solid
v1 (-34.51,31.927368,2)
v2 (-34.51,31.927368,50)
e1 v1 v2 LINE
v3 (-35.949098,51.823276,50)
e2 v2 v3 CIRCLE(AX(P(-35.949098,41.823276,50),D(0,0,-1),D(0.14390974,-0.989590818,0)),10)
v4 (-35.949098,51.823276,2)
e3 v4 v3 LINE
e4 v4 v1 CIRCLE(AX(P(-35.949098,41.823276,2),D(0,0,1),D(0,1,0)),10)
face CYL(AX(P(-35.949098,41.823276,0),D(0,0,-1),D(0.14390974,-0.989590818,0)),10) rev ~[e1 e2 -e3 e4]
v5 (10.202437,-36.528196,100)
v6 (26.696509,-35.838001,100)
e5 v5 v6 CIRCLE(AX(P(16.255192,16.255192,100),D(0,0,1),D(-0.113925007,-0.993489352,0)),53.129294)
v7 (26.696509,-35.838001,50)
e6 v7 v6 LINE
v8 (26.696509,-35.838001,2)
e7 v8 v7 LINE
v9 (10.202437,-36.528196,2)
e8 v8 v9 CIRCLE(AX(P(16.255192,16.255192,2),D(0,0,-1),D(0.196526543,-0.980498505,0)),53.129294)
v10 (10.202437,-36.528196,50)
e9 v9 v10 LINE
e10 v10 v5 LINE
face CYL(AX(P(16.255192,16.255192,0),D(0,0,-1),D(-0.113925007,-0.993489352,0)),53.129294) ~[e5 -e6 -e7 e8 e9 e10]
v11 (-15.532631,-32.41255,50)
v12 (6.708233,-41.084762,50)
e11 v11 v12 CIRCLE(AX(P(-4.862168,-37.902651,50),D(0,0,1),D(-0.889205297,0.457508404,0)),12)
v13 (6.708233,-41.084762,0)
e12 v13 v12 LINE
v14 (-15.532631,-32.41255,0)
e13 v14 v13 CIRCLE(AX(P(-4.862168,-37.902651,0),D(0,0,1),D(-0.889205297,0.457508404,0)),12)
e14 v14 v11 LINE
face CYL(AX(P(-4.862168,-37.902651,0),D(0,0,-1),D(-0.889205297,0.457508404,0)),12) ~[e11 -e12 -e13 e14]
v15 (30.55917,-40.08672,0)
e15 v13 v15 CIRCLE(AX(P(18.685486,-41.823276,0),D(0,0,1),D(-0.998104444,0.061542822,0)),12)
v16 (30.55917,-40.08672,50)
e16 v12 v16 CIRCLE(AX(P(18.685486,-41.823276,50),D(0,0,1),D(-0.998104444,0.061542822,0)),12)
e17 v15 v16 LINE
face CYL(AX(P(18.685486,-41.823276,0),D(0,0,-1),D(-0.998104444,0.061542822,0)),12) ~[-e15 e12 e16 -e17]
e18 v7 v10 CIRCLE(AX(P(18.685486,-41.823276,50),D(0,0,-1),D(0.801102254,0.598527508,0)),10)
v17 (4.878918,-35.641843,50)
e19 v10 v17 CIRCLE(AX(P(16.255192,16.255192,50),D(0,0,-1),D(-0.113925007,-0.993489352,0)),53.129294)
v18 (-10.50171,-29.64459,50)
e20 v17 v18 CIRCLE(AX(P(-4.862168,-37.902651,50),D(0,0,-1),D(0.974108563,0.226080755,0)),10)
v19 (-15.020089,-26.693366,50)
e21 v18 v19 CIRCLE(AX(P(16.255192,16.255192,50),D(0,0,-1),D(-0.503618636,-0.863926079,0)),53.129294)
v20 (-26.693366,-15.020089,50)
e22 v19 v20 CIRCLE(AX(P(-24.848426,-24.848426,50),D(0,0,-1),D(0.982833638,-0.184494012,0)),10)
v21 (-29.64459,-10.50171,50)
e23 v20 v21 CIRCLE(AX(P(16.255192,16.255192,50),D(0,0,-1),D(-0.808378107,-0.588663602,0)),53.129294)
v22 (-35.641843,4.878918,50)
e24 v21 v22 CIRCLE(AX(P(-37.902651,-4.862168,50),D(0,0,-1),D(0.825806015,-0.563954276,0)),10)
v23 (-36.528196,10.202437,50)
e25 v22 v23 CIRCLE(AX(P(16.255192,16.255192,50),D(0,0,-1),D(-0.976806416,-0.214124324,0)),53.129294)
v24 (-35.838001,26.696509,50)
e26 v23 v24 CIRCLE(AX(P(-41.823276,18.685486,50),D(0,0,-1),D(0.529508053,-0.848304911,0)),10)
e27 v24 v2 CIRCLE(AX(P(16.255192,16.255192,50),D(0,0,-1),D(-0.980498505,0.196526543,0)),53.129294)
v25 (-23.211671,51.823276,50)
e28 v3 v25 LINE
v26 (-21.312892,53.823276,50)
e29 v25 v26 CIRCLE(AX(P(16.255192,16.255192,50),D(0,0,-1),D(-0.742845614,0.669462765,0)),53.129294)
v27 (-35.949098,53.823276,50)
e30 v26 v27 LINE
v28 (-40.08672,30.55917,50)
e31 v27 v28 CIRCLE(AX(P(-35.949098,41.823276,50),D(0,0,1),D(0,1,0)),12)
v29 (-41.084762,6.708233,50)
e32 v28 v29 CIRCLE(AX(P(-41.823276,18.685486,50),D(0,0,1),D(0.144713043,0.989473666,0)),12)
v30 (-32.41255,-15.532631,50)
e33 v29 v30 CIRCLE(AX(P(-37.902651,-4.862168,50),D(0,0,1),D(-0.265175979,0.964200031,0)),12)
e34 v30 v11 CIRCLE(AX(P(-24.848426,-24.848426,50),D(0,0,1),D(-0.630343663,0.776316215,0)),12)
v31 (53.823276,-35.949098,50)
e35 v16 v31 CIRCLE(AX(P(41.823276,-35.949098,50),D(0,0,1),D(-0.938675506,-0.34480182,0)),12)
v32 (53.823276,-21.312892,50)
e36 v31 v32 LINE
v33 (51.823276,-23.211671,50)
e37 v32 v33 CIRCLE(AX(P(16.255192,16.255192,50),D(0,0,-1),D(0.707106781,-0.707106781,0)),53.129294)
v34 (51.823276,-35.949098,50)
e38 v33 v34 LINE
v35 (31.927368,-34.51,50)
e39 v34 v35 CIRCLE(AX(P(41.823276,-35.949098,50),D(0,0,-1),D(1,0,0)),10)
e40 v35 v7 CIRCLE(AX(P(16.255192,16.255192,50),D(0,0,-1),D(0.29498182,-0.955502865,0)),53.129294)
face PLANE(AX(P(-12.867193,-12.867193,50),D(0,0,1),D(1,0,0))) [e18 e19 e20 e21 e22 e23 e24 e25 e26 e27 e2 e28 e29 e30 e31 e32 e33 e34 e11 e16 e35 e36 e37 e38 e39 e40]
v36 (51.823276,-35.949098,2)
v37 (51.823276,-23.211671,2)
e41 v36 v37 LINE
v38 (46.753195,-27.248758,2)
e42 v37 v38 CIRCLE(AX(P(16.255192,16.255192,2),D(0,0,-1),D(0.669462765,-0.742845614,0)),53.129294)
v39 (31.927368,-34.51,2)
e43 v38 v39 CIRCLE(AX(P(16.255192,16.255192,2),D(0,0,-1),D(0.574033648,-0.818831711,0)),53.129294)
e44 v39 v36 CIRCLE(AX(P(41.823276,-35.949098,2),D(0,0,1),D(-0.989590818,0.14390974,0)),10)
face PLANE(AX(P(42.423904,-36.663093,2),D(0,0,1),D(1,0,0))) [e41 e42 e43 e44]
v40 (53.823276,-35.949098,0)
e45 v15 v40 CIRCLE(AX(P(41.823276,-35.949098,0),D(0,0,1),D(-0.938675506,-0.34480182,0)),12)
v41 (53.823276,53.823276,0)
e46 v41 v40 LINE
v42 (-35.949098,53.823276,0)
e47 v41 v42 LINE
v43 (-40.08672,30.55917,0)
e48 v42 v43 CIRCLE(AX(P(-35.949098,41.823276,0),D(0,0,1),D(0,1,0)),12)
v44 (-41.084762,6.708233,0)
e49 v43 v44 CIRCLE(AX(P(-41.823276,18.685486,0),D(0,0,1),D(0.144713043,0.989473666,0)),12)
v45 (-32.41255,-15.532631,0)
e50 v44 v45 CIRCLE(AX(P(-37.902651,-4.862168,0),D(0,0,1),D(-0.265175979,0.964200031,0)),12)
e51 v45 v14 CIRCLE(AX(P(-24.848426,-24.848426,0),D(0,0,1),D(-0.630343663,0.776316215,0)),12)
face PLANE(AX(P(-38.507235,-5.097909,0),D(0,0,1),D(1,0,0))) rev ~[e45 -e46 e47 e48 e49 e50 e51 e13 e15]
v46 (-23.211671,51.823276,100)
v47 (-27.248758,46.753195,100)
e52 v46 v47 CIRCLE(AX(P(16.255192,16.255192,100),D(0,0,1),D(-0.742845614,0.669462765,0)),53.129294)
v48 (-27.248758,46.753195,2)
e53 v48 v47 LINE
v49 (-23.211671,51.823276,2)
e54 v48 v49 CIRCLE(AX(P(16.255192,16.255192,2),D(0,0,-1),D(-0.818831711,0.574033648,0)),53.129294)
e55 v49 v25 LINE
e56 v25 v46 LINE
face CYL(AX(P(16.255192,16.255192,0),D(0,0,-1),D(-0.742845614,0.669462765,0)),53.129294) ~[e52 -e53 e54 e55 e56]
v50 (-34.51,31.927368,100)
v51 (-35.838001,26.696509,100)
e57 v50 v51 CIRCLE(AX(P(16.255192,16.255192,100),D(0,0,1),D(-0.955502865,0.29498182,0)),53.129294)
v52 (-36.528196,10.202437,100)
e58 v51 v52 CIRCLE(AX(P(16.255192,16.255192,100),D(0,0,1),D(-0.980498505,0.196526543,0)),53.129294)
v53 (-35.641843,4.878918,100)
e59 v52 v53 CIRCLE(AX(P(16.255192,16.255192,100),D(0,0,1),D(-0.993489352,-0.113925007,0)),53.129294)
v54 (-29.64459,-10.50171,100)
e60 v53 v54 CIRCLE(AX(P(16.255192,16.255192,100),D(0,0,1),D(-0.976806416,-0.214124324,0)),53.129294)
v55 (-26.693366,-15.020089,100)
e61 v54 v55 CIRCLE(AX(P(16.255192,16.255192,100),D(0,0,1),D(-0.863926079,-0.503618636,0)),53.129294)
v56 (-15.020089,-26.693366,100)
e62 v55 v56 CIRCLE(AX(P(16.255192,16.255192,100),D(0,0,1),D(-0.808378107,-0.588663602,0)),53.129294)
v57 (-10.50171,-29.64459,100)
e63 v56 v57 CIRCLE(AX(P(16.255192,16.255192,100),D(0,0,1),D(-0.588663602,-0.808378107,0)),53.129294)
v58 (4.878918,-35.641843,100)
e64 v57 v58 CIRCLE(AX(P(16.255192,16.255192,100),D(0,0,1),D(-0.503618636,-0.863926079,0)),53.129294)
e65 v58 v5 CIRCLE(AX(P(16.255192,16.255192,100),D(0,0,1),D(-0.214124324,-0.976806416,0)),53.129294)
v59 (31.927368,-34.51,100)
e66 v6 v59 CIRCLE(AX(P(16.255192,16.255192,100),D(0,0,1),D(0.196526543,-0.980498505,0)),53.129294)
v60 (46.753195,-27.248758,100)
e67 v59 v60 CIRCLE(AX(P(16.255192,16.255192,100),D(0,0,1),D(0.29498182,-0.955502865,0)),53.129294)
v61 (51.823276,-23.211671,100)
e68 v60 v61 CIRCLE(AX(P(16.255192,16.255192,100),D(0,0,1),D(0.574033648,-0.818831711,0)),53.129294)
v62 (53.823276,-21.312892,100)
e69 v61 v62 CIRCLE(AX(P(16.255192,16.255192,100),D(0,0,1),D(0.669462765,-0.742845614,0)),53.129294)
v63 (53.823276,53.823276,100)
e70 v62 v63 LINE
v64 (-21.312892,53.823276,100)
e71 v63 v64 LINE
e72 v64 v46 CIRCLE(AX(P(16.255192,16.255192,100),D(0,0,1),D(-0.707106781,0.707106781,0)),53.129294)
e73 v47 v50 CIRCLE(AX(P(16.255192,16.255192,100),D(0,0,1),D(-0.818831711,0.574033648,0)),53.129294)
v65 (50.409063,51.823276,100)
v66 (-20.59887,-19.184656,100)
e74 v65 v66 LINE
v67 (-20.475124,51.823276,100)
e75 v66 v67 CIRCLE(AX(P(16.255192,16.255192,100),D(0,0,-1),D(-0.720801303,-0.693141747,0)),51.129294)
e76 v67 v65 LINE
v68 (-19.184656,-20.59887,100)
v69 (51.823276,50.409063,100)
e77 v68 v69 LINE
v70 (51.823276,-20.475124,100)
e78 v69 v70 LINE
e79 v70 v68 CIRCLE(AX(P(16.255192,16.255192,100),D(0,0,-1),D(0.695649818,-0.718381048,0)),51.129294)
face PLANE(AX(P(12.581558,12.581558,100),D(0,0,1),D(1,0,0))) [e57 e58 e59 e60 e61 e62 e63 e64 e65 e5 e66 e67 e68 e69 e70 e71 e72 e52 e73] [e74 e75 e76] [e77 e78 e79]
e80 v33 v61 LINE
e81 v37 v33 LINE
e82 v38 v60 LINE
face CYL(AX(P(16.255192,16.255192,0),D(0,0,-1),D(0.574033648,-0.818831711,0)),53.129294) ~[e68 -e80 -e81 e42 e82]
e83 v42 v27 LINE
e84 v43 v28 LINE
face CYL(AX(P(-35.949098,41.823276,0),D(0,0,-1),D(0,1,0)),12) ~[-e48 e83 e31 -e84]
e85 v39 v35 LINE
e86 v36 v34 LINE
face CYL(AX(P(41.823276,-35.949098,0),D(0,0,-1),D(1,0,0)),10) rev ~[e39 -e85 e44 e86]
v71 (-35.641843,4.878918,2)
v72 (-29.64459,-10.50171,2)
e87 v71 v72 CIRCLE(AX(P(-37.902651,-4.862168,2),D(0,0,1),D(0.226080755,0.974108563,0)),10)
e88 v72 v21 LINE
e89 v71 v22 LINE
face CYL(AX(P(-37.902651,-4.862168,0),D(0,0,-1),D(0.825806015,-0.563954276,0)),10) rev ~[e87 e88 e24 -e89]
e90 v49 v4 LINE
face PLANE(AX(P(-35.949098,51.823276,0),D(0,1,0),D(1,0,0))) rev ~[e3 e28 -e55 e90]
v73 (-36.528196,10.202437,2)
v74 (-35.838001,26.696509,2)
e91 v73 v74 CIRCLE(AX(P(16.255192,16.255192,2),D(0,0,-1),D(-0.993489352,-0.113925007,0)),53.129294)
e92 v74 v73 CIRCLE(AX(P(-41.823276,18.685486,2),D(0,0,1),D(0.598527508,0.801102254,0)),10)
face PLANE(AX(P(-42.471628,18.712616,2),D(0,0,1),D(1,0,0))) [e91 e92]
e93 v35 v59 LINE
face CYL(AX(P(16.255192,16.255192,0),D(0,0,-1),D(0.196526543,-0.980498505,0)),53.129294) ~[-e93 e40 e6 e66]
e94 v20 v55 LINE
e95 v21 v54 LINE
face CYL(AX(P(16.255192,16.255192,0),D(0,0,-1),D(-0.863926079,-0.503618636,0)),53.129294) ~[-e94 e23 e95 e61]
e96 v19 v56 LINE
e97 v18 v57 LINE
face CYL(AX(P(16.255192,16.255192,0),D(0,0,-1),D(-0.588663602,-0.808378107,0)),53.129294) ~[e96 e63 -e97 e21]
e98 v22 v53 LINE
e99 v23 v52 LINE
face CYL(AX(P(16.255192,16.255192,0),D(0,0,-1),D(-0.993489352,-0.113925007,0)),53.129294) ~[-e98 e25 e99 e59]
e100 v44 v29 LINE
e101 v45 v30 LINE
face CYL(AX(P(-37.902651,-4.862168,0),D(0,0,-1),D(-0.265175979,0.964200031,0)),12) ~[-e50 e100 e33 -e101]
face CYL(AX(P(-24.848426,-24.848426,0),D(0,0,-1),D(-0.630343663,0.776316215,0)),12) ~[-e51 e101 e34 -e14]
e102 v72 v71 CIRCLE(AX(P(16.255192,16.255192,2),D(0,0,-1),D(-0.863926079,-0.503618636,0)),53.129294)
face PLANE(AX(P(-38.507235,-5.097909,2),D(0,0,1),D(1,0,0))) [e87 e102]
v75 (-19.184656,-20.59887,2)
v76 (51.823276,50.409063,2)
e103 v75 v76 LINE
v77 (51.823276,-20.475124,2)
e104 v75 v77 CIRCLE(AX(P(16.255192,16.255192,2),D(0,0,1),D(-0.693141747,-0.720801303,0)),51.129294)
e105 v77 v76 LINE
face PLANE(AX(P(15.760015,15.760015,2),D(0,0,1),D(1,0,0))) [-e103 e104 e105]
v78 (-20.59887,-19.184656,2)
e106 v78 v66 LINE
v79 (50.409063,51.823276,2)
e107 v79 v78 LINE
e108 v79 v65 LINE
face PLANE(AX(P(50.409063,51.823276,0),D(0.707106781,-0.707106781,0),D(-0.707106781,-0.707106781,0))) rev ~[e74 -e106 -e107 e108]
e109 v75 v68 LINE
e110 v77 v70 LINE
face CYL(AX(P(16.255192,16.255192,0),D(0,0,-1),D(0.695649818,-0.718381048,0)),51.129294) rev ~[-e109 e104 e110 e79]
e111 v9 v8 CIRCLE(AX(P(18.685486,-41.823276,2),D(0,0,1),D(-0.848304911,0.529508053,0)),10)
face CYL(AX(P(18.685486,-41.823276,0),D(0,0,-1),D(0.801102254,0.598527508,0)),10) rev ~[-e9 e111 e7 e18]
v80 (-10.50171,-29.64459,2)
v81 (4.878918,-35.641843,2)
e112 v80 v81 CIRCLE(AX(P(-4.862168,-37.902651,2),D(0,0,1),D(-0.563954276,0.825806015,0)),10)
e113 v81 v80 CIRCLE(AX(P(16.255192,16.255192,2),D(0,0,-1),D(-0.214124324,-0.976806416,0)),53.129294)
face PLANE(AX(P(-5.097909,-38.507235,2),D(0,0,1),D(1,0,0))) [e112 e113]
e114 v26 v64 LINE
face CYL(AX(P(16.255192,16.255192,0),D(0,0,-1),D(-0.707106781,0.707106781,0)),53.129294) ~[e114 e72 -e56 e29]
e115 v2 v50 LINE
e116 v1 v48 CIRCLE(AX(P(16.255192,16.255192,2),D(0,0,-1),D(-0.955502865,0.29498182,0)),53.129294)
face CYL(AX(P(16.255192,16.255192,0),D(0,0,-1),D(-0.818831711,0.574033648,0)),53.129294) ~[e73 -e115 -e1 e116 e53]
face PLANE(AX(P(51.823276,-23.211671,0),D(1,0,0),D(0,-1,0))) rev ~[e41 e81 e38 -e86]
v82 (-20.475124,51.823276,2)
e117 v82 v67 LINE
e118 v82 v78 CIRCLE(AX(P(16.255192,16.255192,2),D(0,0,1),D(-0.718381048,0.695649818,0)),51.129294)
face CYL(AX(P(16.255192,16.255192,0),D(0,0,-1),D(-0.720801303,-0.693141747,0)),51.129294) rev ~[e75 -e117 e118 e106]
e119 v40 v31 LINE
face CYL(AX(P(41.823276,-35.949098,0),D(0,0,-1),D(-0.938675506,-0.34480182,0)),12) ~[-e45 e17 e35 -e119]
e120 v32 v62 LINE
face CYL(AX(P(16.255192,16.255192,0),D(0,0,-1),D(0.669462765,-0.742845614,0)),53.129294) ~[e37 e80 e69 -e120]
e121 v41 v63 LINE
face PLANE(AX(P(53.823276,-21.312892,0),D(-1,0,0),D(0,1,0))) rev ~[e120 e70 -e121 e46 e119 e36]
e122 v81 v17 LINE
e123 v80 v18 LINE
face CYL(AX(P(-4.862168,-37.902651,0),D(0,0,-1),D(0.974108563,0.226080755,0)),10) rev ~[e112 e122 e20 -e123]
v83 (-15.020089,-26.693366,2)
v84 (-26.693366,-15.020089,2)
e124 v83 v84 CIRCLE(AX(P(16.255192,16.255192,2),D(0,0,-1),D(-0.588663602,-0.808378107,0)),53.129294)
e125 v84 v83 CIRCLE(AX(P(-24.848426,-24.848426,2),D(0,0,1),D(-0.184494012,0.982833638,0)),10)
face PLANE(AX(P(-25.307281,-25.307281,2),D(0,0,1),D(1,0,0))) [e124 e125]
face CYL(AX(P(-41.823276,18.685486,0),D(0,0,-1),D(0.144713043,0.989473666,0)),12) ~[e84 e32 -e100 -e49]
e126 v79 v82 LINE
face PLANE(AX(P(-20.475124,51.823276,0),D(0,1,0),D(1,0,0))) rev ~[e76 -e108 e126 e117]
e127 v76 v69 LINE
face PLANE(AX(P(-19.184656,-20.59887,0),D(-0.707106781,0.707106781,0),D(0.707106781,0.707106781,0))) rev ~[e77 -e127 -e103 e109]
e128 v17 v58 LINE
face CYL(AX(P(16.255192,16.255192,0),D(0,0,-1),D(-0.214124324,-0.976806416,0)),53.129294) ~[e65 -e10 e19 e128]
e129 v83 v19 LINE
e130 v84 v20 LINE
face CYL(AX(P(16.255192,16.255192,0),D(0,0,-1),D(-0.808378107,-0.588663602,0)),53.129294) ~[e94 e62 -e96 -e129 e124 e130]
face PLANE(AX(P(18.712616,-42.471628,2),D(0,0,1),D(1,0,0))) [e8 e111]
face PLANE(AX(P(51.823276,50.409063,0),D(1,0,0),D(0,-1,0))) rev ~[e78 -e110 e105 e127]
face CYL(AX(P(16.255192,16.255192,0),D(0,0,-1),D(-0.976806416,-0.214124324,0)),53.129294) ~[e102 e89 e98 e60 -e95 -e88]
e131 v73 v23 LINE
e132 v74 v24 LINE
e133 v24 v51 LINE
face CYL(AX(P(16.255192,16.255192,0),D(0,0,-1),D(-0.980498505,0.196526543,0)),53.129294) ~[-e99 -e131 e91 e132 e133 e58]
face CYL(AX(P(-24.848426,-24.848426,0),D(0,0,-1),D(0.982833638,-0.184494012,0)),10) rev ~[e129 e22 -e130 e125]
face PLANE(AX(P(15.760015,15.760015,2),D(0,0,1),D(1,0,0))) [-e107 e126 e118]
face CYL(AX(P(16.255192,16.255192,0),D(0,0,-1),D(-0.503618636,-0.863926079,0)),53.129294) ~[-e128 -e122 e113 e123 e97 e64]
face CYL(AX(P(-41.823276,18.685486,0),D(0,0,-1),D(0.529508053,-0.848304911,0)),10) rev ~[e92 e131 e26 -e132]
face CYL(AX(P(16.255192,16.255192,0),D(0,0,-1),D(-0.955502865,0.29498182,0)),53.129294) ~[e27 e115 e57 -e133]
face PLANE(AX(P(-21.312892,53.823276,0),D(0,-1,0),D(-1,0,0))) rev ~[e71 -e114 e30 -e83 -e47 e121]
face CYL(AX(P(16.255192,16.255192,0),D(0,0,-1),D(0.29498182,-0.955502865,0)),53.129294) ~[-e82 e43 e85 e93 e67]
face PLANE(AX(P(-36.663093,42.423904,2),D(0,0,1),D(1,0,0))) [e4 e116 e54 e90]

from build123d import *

# Parameters (mm, degrees)
F1_DEPTH = 100
F2_DEPTH = 50
F3_DEPTH = 2


with BuildPart() as f1:
    # F0 (on Top) → F1 (new body)
    with BuildSketch(Plane.XY):
        with BuildLine():
            Line((53.8232761587, 53.8232761587), (-21.3128918473, 53.8232761587))
            ThreePointArc((-21.3128918473, 53.8232761587), (-22.275260259, 52.8355982228), (-23.2116708013, 51.8232761587))
            ThreePointArc((-23.2116708013, 51.8232761587), (-25.3075965949, 49.3498512806), (-27.2487584756, 46.7531945623))
            ThreePointArc((-27.2487584756, 46.7531945623), (-31.4587379196, 39.6240335494), (-34.51000041, 31.9273679805))
            ThreePointArc((-34.51000041, 31.9273679805), (-35.2404615897, 29.3288112664), (-35.838001078, 26.6965086449))
            ThreePointArc((-35.838001078, 26.6965086449), (-36.82764793, 18.4764439995), (-36.5281956308, 10.2024369904))
            ThreePointArc((-36.5281956308, 10.2024369904), (-36.1526574521, 7.5294159266), (-35.6418430025, 4.8789180245))
            ThreePointArc((-35.6418430025, 4.8789180245), (-33.2442555313, -3.0457547122), (-29.644590404, -10.5017103611))
            ThreePointArc((-29.644590404, -10.5017103611), (-28.2263865418, -12.7983967429), (-26.6933658701, -15.0200893749))
            ThreePointArc((-26.6933658701, -15.0200893749), (-21.3128918473, -21.3128918473), (-15.0200893749, -26.6933658701))
            ThreePointArc((-15.0200893749, -26.6933658701), (-12.7983967429, -28.2263865418), (-10.5017103611, -29.644590404))
            ThreePointArc((-10.5017103611, -29.644590404), (-3.0457547122, -33.2442555313), (4.8789180245, -35.6418430025))
            ThreePointArc((4.8789180245, -35.6418430025), (7.5294159266, -36.1526574521), (10.2024369904, -36.5281956308))
            ThreePointArc((10.2024369904, -36.5281956308), (18.4764439995, -36.82764793), (26.6965086449, -35.838001078))
            ThreePointArc((26.6965086449, -35.838001078), (29.3288112664, -35.2404615897), (31.9273679804, -34.51000041))
            ThreePointArc((31.9273679804, -34.51000041), (39.6240335494, -31.4587379196), (46.7531945623, -27.2487584756))
            ThreePointArc((46.7531945623, -27.2487584756), (49.3498512806, -25.3075965949), (51.8232761587, -23.2116708013))
            ThreePointArc((51.8232761587, -23.2116708013), (52.8355982228, -22.275260259), (53.8232761587, -21.3128918473))
            Line((53.8232761587, -21.3128918473), (53.8232761587, 53.8232761587))
        make_face()
        with BuildLine():
            Line((50.4090625964, 51.8232761587), (51.8232761587, 51.8232761587))
            Line((51.8232761587, 51.8232761587), (51.8232761587, 50.4090625964))
            Line((51.8232761587, 50.4090625964), (51.8232761587, -20.4751236071))
            ThreePointArc((51.8232761587, -20.4751236071), (16.3442953184, -34.8740241135), (-19.1846559534, -20.5988695157))
            ThreePointArc((-19.1846559534, -20.5988695157), (-19.8986782849, -19.8986782849), (-20.5988695157, -19.1846559534))
            ThreePointArc((-20.5988695157, -19.1846559534), (-34.8740241135, 16.3442953184), (-20.4751236071, 51.8232761587))
            Line((-20.4751236071, 51.8232761587), (50.4090625964, 51.8232761587))
        make_face(mode=Mode.SUBTRACT)
        with BuildLine():
            Line((51.8232761587, 50.4090625964), (51.8232761587, 51.8232761587))
            Line((51.8232761587, 51.8232761587), (50.4090625964, 51.8232761587))
            Line((50.4090625964, 51.8232761587), (-20.5988695157, -19.1846559534))
            ThreePointArc((-20.5988695157, -19.1846559534), (-19.8986782849, -19.8986782849), (-19.1846559534, -20.5988695157))
            Line((-19.1846559534, -20.5988695157), (51.8232761587, 50.4090625964))
        make_face()
    extrude(amount=F1_DEPTH)

    # F0 (on Top) → F2 (join)
    with BuildSketch(Plane.XY):
        with BuildLine():
            ThreePointArc((-23.2116708013, 51.8232761587), (-22.275260259, 52.8355982228), (-21.3128918473, 53.8232761587))
            Line((-21.3128918473, 53.8232761587), (-35.94909781, 53.8232761587))
            ThreePointArc((-35.94909781, 53.8232761587), (-47.7636920228, 43.9245528153), (-40.0867196477, 30.55917009))
            ThreePointArc((-40.0867196477, 30.55917009), (-53.8127839078, 19.1871871426), (-41.0847622997, 6.7082327726))
            ThreePointArc((-41.0847622997, 6.7082327726), (-49.0827986166, -9.2215585412), (-32.4125497133, -15.53263117))
            ThreePointArc((-32.4125497133, -15.53263117), (-33.3337071275, -33.3337071275), (-15.53263117, -32.4125497133))
            ThreePointArc((-15.53263117, -32.4125497133), (-9.2215585412, -49.0827986166), (6.7082327726, -41.0847622997))
            ThreePointArc((6.7082327726, -41.0847622997), (19.1871871426, -53.8127839078), (30.55917009, -40.0867196477))
            ThreePointArc((30.55917009, -40.0867196477), (43.9245528153, -47.7636920228), (53.8232761587, -35.94909781))
            Line((53.8232761587, -35.94909781), (53.8232761587, -21.3128918473))
            ThreePointArc((53.8232761587, -21.3128918473), (52.8355982228, -22.275260259), (51.8232761587, -23.2116708013))
            Line((51.8232761587, -23.2116708013), (51.8232761587, -35.94909781))
            ThreePointArc((51.8232761587, -35.94909781), (41.1018476394, -45.9230409065), (31.9273679804, -34.51000041))
            ThreePointArc((31.9273679804, -34.51000041), (29.3288112664, -35.2404615897), (26.6965086449, -35.838001078))
            ThreePointArc((26.6965086449, -35.838001078), (19.1035703023, -51.8145326163), (10.2024369904, -36.5281956308))
            ThreePointArc((10.2024369904, -36.5281956308), (7.5294159266, -36.1526574521), (4.8789180245, -35.6418430025))
            ThreePointArc((4.8789180245, -35.6418430025), (-8.4949933848, -47.2194406066), (-10.5017103611, -29.644590404))
            ThreePointArc((-10.5017103611, -29.644590404), (-12.7983967429, -28.2263865418), (-15.0200893749, -26.6933658701))
            ThreePointArc((-15.0200893749, -26.6933658701), (-31.9194935651, -31.9194935651), (-26.6933658701, -15.0200893749))
            ThreePointArc((-26.6933658701, -15.0200893749), (-28.2263865418, -12.7983967429), (-29.644590404, -10.5017103611))
            ThreePointArc((-29.644590404, -10.5017103611), (-47.2194406066, -8.4949933848), (-35.6418430025, 4.8789180245))
            ThreePointArc((-35.6418430025, 4.8789180245), (-36.1526574521, 7.5294159266), (-36.5281956308, 10.2024369904))
            ThreePointArc((-36.5281956308, 10.2024369904), (-51.8145326163, 19.1035703023), (-35.838001078, 26.6965086449))
            ThreePointArc((-35.838001078, 26.6965086449), (-35.2404615897, 29.3288112664), (-34.51000041, 31.9273679805))
            ThreePointArc((-34.51000041, 31.9273679805), (-45.9230409065, 41.1018476394), (-35.94909781, 51.8232761587))
            Line((-35.94909781, 51.8232761587), (-23.2116708013, 51.8232761587))
        make_face()
    extrude(amount=F2_DEPTH)

    # F0 (on Top) → F3 (join)
    with BuildSketch(Plane.XY):
        with BuildLine():
            ThreePointArc((-29.644590404, -10.5017103611), (-33.2442555313, -3.0457547122), (-35.6418430025, 4.8789180245))
            ThreePointArc((-35.6418430025, 4.8789180245), (-47.2194406066, -8.4949933848), (-29.644590404, -10.5017103611))
        make_face()
        with BuildLine():
            ThreePointArc((-15.0200893749, -26.6933658701), (-21.3128918473, -21.3128918473), (-26.6933658701, -15.0200893749))
            ThreePointArc((-26.6933658701, -15.0200893749), (-31.9194935651, -31.9194935651), (-15.0200893749, -26.6933658701))
        make_face()
        with BuildLine():
            ThreePointArc((-10.5017103611, -29.644590404), (-8.4949933848, -47.2194406066), (4.8789180245, -35.6418430025))
            ThreePointArc((4.8789180245, -35.6418430025), (-3.0457547122, -33.2442555313), (-10.5017103611, -29.644590404))
        make_face()
        with BuildLine():
            ThreePointArc((10.2024369904, -36.5281956308), (19.1035703023, -51.8145326163), (26.6965086449, -35.838001078))
            ThreePointArc((26.6965086449, -35.838001078), (18.4764439995, -36.82764793), (10.2024369904, -36.5281956308))
        make_face()
        with BuildLine():
            ThreePointArc((51.8232761587, -35.94909781), (50.4632756968, -30.9141789445), (46.7531945623, -27.2487584756))
            ThreePointArc((46.7531945623, -27.2487584756), (39.6240335494, -31.4587379196), (31.9273679804, -34.51000041))
            ThreePointArc((31.9273679804, -34.51000041), (41.1018476394, -45.9230409065), (51.8232761587, -35.94909781))
        make_face()
        with BuildLine():
            Line((51.8232761587, 50.4090625964), (51.8232761587, 51.8232761587))
            Line((51.8232761587, 51.8232761587), (50.4090625964, 51.8232761587))
            Line((50.4090625964, 51.8232761587), (-20.5988695157, -19.1846559534))
            ThreePointArc((-20.5988695157, -19.1846559534), (-19.8986782849, -19.8986782849), (-19.1846559534, -20.5988695157))
            Line((-19.1846559534, -20.5988695157), (51.8232761587, 50.4090625964))
        make_face()
        with BuildLine():
            Line((-20.5988695157, -19.1846559534), (50.4090625964, 51.8232761587))
            Line((50.4090625964, 51.8232761587), (-20.4751236071, 51.8232761587))
            ThreePointArc((-20.4751236071, 51.8232761587), (-34.8740241135, 16.3442953184), (-20.5988695157, -19.1846559534))
        make_face()
        with BuildLine():
            ThreePointArc((-36.5281956308, 10.2024369904), (-36.82764793, 18.4764439995), (-35.838001078, 26.6965086449))
            ThreePointArc((-35.838001078, 26.6965086449), (-51.8145326163, 19.1035703023), (-36.5281956308, 10.2024369904))
        make_face()
        with BuildLine():
            ThreePointArc((-34.51000041, 31.9273679805), (-31.4587379196, 39.6240335494), (-27.2487584756, 46.7531945623))
            ThreePointArc((-27.2487584756, 46.7531945623), (-30.9141789445, 50.4632756968), (-35.94909781, 51.8232761587))
            ThreePointArc((-35.94909781, 51.8232761587), (-45.9230409065, 41.1018476394), (-34.51000041, 31.9273679805))
        make_face()
        with BuildLine():
            Line((51.8232761587, -35.94909781), (51.8232761587, -23.2116708013))
            ThreePointArc((51.8232761587, -23.2116708013), (49.3498512806, -25.3075965949), (46.7531945623, -27.2487584756))
            ThreePointArc((46.7531945623, -27.2487584756), (50.4632756968, -30.9141789445), (51.8232761587, -35.94909781))
        make_face()
        with BuildLine():
            ThreePointArc((-27.2487584756, 46.7531945623), (-25.3075965949, 49.3498512806), (-23.2116708013, 51.8232761587))
            Line((-23.2116708013, 51.8232761587), (-35.94909781, 51.8232761587))
            ThreePointArc((-35.94909781, 51.8232761587), (-30.9141789445, 50.4632756968), (-27.2487584756, 46.7531945623))
        make_face()
        with BuildLine():
            Line((51.8232761587, -20.4751236071), (51.8232761587, 50.4090625964))
            Line((51.8232761587, 50.4090625964), (-19.1846559534, -20.5988695157))
            ThreePointArc((-19.1846559534, -20.5988695157), (16.3442953184, -34.8740241135), (51.8232761587, -20.4751236071))
        make_face()
    extrude(amount=F3_DEPTH)


solid = f1.part
